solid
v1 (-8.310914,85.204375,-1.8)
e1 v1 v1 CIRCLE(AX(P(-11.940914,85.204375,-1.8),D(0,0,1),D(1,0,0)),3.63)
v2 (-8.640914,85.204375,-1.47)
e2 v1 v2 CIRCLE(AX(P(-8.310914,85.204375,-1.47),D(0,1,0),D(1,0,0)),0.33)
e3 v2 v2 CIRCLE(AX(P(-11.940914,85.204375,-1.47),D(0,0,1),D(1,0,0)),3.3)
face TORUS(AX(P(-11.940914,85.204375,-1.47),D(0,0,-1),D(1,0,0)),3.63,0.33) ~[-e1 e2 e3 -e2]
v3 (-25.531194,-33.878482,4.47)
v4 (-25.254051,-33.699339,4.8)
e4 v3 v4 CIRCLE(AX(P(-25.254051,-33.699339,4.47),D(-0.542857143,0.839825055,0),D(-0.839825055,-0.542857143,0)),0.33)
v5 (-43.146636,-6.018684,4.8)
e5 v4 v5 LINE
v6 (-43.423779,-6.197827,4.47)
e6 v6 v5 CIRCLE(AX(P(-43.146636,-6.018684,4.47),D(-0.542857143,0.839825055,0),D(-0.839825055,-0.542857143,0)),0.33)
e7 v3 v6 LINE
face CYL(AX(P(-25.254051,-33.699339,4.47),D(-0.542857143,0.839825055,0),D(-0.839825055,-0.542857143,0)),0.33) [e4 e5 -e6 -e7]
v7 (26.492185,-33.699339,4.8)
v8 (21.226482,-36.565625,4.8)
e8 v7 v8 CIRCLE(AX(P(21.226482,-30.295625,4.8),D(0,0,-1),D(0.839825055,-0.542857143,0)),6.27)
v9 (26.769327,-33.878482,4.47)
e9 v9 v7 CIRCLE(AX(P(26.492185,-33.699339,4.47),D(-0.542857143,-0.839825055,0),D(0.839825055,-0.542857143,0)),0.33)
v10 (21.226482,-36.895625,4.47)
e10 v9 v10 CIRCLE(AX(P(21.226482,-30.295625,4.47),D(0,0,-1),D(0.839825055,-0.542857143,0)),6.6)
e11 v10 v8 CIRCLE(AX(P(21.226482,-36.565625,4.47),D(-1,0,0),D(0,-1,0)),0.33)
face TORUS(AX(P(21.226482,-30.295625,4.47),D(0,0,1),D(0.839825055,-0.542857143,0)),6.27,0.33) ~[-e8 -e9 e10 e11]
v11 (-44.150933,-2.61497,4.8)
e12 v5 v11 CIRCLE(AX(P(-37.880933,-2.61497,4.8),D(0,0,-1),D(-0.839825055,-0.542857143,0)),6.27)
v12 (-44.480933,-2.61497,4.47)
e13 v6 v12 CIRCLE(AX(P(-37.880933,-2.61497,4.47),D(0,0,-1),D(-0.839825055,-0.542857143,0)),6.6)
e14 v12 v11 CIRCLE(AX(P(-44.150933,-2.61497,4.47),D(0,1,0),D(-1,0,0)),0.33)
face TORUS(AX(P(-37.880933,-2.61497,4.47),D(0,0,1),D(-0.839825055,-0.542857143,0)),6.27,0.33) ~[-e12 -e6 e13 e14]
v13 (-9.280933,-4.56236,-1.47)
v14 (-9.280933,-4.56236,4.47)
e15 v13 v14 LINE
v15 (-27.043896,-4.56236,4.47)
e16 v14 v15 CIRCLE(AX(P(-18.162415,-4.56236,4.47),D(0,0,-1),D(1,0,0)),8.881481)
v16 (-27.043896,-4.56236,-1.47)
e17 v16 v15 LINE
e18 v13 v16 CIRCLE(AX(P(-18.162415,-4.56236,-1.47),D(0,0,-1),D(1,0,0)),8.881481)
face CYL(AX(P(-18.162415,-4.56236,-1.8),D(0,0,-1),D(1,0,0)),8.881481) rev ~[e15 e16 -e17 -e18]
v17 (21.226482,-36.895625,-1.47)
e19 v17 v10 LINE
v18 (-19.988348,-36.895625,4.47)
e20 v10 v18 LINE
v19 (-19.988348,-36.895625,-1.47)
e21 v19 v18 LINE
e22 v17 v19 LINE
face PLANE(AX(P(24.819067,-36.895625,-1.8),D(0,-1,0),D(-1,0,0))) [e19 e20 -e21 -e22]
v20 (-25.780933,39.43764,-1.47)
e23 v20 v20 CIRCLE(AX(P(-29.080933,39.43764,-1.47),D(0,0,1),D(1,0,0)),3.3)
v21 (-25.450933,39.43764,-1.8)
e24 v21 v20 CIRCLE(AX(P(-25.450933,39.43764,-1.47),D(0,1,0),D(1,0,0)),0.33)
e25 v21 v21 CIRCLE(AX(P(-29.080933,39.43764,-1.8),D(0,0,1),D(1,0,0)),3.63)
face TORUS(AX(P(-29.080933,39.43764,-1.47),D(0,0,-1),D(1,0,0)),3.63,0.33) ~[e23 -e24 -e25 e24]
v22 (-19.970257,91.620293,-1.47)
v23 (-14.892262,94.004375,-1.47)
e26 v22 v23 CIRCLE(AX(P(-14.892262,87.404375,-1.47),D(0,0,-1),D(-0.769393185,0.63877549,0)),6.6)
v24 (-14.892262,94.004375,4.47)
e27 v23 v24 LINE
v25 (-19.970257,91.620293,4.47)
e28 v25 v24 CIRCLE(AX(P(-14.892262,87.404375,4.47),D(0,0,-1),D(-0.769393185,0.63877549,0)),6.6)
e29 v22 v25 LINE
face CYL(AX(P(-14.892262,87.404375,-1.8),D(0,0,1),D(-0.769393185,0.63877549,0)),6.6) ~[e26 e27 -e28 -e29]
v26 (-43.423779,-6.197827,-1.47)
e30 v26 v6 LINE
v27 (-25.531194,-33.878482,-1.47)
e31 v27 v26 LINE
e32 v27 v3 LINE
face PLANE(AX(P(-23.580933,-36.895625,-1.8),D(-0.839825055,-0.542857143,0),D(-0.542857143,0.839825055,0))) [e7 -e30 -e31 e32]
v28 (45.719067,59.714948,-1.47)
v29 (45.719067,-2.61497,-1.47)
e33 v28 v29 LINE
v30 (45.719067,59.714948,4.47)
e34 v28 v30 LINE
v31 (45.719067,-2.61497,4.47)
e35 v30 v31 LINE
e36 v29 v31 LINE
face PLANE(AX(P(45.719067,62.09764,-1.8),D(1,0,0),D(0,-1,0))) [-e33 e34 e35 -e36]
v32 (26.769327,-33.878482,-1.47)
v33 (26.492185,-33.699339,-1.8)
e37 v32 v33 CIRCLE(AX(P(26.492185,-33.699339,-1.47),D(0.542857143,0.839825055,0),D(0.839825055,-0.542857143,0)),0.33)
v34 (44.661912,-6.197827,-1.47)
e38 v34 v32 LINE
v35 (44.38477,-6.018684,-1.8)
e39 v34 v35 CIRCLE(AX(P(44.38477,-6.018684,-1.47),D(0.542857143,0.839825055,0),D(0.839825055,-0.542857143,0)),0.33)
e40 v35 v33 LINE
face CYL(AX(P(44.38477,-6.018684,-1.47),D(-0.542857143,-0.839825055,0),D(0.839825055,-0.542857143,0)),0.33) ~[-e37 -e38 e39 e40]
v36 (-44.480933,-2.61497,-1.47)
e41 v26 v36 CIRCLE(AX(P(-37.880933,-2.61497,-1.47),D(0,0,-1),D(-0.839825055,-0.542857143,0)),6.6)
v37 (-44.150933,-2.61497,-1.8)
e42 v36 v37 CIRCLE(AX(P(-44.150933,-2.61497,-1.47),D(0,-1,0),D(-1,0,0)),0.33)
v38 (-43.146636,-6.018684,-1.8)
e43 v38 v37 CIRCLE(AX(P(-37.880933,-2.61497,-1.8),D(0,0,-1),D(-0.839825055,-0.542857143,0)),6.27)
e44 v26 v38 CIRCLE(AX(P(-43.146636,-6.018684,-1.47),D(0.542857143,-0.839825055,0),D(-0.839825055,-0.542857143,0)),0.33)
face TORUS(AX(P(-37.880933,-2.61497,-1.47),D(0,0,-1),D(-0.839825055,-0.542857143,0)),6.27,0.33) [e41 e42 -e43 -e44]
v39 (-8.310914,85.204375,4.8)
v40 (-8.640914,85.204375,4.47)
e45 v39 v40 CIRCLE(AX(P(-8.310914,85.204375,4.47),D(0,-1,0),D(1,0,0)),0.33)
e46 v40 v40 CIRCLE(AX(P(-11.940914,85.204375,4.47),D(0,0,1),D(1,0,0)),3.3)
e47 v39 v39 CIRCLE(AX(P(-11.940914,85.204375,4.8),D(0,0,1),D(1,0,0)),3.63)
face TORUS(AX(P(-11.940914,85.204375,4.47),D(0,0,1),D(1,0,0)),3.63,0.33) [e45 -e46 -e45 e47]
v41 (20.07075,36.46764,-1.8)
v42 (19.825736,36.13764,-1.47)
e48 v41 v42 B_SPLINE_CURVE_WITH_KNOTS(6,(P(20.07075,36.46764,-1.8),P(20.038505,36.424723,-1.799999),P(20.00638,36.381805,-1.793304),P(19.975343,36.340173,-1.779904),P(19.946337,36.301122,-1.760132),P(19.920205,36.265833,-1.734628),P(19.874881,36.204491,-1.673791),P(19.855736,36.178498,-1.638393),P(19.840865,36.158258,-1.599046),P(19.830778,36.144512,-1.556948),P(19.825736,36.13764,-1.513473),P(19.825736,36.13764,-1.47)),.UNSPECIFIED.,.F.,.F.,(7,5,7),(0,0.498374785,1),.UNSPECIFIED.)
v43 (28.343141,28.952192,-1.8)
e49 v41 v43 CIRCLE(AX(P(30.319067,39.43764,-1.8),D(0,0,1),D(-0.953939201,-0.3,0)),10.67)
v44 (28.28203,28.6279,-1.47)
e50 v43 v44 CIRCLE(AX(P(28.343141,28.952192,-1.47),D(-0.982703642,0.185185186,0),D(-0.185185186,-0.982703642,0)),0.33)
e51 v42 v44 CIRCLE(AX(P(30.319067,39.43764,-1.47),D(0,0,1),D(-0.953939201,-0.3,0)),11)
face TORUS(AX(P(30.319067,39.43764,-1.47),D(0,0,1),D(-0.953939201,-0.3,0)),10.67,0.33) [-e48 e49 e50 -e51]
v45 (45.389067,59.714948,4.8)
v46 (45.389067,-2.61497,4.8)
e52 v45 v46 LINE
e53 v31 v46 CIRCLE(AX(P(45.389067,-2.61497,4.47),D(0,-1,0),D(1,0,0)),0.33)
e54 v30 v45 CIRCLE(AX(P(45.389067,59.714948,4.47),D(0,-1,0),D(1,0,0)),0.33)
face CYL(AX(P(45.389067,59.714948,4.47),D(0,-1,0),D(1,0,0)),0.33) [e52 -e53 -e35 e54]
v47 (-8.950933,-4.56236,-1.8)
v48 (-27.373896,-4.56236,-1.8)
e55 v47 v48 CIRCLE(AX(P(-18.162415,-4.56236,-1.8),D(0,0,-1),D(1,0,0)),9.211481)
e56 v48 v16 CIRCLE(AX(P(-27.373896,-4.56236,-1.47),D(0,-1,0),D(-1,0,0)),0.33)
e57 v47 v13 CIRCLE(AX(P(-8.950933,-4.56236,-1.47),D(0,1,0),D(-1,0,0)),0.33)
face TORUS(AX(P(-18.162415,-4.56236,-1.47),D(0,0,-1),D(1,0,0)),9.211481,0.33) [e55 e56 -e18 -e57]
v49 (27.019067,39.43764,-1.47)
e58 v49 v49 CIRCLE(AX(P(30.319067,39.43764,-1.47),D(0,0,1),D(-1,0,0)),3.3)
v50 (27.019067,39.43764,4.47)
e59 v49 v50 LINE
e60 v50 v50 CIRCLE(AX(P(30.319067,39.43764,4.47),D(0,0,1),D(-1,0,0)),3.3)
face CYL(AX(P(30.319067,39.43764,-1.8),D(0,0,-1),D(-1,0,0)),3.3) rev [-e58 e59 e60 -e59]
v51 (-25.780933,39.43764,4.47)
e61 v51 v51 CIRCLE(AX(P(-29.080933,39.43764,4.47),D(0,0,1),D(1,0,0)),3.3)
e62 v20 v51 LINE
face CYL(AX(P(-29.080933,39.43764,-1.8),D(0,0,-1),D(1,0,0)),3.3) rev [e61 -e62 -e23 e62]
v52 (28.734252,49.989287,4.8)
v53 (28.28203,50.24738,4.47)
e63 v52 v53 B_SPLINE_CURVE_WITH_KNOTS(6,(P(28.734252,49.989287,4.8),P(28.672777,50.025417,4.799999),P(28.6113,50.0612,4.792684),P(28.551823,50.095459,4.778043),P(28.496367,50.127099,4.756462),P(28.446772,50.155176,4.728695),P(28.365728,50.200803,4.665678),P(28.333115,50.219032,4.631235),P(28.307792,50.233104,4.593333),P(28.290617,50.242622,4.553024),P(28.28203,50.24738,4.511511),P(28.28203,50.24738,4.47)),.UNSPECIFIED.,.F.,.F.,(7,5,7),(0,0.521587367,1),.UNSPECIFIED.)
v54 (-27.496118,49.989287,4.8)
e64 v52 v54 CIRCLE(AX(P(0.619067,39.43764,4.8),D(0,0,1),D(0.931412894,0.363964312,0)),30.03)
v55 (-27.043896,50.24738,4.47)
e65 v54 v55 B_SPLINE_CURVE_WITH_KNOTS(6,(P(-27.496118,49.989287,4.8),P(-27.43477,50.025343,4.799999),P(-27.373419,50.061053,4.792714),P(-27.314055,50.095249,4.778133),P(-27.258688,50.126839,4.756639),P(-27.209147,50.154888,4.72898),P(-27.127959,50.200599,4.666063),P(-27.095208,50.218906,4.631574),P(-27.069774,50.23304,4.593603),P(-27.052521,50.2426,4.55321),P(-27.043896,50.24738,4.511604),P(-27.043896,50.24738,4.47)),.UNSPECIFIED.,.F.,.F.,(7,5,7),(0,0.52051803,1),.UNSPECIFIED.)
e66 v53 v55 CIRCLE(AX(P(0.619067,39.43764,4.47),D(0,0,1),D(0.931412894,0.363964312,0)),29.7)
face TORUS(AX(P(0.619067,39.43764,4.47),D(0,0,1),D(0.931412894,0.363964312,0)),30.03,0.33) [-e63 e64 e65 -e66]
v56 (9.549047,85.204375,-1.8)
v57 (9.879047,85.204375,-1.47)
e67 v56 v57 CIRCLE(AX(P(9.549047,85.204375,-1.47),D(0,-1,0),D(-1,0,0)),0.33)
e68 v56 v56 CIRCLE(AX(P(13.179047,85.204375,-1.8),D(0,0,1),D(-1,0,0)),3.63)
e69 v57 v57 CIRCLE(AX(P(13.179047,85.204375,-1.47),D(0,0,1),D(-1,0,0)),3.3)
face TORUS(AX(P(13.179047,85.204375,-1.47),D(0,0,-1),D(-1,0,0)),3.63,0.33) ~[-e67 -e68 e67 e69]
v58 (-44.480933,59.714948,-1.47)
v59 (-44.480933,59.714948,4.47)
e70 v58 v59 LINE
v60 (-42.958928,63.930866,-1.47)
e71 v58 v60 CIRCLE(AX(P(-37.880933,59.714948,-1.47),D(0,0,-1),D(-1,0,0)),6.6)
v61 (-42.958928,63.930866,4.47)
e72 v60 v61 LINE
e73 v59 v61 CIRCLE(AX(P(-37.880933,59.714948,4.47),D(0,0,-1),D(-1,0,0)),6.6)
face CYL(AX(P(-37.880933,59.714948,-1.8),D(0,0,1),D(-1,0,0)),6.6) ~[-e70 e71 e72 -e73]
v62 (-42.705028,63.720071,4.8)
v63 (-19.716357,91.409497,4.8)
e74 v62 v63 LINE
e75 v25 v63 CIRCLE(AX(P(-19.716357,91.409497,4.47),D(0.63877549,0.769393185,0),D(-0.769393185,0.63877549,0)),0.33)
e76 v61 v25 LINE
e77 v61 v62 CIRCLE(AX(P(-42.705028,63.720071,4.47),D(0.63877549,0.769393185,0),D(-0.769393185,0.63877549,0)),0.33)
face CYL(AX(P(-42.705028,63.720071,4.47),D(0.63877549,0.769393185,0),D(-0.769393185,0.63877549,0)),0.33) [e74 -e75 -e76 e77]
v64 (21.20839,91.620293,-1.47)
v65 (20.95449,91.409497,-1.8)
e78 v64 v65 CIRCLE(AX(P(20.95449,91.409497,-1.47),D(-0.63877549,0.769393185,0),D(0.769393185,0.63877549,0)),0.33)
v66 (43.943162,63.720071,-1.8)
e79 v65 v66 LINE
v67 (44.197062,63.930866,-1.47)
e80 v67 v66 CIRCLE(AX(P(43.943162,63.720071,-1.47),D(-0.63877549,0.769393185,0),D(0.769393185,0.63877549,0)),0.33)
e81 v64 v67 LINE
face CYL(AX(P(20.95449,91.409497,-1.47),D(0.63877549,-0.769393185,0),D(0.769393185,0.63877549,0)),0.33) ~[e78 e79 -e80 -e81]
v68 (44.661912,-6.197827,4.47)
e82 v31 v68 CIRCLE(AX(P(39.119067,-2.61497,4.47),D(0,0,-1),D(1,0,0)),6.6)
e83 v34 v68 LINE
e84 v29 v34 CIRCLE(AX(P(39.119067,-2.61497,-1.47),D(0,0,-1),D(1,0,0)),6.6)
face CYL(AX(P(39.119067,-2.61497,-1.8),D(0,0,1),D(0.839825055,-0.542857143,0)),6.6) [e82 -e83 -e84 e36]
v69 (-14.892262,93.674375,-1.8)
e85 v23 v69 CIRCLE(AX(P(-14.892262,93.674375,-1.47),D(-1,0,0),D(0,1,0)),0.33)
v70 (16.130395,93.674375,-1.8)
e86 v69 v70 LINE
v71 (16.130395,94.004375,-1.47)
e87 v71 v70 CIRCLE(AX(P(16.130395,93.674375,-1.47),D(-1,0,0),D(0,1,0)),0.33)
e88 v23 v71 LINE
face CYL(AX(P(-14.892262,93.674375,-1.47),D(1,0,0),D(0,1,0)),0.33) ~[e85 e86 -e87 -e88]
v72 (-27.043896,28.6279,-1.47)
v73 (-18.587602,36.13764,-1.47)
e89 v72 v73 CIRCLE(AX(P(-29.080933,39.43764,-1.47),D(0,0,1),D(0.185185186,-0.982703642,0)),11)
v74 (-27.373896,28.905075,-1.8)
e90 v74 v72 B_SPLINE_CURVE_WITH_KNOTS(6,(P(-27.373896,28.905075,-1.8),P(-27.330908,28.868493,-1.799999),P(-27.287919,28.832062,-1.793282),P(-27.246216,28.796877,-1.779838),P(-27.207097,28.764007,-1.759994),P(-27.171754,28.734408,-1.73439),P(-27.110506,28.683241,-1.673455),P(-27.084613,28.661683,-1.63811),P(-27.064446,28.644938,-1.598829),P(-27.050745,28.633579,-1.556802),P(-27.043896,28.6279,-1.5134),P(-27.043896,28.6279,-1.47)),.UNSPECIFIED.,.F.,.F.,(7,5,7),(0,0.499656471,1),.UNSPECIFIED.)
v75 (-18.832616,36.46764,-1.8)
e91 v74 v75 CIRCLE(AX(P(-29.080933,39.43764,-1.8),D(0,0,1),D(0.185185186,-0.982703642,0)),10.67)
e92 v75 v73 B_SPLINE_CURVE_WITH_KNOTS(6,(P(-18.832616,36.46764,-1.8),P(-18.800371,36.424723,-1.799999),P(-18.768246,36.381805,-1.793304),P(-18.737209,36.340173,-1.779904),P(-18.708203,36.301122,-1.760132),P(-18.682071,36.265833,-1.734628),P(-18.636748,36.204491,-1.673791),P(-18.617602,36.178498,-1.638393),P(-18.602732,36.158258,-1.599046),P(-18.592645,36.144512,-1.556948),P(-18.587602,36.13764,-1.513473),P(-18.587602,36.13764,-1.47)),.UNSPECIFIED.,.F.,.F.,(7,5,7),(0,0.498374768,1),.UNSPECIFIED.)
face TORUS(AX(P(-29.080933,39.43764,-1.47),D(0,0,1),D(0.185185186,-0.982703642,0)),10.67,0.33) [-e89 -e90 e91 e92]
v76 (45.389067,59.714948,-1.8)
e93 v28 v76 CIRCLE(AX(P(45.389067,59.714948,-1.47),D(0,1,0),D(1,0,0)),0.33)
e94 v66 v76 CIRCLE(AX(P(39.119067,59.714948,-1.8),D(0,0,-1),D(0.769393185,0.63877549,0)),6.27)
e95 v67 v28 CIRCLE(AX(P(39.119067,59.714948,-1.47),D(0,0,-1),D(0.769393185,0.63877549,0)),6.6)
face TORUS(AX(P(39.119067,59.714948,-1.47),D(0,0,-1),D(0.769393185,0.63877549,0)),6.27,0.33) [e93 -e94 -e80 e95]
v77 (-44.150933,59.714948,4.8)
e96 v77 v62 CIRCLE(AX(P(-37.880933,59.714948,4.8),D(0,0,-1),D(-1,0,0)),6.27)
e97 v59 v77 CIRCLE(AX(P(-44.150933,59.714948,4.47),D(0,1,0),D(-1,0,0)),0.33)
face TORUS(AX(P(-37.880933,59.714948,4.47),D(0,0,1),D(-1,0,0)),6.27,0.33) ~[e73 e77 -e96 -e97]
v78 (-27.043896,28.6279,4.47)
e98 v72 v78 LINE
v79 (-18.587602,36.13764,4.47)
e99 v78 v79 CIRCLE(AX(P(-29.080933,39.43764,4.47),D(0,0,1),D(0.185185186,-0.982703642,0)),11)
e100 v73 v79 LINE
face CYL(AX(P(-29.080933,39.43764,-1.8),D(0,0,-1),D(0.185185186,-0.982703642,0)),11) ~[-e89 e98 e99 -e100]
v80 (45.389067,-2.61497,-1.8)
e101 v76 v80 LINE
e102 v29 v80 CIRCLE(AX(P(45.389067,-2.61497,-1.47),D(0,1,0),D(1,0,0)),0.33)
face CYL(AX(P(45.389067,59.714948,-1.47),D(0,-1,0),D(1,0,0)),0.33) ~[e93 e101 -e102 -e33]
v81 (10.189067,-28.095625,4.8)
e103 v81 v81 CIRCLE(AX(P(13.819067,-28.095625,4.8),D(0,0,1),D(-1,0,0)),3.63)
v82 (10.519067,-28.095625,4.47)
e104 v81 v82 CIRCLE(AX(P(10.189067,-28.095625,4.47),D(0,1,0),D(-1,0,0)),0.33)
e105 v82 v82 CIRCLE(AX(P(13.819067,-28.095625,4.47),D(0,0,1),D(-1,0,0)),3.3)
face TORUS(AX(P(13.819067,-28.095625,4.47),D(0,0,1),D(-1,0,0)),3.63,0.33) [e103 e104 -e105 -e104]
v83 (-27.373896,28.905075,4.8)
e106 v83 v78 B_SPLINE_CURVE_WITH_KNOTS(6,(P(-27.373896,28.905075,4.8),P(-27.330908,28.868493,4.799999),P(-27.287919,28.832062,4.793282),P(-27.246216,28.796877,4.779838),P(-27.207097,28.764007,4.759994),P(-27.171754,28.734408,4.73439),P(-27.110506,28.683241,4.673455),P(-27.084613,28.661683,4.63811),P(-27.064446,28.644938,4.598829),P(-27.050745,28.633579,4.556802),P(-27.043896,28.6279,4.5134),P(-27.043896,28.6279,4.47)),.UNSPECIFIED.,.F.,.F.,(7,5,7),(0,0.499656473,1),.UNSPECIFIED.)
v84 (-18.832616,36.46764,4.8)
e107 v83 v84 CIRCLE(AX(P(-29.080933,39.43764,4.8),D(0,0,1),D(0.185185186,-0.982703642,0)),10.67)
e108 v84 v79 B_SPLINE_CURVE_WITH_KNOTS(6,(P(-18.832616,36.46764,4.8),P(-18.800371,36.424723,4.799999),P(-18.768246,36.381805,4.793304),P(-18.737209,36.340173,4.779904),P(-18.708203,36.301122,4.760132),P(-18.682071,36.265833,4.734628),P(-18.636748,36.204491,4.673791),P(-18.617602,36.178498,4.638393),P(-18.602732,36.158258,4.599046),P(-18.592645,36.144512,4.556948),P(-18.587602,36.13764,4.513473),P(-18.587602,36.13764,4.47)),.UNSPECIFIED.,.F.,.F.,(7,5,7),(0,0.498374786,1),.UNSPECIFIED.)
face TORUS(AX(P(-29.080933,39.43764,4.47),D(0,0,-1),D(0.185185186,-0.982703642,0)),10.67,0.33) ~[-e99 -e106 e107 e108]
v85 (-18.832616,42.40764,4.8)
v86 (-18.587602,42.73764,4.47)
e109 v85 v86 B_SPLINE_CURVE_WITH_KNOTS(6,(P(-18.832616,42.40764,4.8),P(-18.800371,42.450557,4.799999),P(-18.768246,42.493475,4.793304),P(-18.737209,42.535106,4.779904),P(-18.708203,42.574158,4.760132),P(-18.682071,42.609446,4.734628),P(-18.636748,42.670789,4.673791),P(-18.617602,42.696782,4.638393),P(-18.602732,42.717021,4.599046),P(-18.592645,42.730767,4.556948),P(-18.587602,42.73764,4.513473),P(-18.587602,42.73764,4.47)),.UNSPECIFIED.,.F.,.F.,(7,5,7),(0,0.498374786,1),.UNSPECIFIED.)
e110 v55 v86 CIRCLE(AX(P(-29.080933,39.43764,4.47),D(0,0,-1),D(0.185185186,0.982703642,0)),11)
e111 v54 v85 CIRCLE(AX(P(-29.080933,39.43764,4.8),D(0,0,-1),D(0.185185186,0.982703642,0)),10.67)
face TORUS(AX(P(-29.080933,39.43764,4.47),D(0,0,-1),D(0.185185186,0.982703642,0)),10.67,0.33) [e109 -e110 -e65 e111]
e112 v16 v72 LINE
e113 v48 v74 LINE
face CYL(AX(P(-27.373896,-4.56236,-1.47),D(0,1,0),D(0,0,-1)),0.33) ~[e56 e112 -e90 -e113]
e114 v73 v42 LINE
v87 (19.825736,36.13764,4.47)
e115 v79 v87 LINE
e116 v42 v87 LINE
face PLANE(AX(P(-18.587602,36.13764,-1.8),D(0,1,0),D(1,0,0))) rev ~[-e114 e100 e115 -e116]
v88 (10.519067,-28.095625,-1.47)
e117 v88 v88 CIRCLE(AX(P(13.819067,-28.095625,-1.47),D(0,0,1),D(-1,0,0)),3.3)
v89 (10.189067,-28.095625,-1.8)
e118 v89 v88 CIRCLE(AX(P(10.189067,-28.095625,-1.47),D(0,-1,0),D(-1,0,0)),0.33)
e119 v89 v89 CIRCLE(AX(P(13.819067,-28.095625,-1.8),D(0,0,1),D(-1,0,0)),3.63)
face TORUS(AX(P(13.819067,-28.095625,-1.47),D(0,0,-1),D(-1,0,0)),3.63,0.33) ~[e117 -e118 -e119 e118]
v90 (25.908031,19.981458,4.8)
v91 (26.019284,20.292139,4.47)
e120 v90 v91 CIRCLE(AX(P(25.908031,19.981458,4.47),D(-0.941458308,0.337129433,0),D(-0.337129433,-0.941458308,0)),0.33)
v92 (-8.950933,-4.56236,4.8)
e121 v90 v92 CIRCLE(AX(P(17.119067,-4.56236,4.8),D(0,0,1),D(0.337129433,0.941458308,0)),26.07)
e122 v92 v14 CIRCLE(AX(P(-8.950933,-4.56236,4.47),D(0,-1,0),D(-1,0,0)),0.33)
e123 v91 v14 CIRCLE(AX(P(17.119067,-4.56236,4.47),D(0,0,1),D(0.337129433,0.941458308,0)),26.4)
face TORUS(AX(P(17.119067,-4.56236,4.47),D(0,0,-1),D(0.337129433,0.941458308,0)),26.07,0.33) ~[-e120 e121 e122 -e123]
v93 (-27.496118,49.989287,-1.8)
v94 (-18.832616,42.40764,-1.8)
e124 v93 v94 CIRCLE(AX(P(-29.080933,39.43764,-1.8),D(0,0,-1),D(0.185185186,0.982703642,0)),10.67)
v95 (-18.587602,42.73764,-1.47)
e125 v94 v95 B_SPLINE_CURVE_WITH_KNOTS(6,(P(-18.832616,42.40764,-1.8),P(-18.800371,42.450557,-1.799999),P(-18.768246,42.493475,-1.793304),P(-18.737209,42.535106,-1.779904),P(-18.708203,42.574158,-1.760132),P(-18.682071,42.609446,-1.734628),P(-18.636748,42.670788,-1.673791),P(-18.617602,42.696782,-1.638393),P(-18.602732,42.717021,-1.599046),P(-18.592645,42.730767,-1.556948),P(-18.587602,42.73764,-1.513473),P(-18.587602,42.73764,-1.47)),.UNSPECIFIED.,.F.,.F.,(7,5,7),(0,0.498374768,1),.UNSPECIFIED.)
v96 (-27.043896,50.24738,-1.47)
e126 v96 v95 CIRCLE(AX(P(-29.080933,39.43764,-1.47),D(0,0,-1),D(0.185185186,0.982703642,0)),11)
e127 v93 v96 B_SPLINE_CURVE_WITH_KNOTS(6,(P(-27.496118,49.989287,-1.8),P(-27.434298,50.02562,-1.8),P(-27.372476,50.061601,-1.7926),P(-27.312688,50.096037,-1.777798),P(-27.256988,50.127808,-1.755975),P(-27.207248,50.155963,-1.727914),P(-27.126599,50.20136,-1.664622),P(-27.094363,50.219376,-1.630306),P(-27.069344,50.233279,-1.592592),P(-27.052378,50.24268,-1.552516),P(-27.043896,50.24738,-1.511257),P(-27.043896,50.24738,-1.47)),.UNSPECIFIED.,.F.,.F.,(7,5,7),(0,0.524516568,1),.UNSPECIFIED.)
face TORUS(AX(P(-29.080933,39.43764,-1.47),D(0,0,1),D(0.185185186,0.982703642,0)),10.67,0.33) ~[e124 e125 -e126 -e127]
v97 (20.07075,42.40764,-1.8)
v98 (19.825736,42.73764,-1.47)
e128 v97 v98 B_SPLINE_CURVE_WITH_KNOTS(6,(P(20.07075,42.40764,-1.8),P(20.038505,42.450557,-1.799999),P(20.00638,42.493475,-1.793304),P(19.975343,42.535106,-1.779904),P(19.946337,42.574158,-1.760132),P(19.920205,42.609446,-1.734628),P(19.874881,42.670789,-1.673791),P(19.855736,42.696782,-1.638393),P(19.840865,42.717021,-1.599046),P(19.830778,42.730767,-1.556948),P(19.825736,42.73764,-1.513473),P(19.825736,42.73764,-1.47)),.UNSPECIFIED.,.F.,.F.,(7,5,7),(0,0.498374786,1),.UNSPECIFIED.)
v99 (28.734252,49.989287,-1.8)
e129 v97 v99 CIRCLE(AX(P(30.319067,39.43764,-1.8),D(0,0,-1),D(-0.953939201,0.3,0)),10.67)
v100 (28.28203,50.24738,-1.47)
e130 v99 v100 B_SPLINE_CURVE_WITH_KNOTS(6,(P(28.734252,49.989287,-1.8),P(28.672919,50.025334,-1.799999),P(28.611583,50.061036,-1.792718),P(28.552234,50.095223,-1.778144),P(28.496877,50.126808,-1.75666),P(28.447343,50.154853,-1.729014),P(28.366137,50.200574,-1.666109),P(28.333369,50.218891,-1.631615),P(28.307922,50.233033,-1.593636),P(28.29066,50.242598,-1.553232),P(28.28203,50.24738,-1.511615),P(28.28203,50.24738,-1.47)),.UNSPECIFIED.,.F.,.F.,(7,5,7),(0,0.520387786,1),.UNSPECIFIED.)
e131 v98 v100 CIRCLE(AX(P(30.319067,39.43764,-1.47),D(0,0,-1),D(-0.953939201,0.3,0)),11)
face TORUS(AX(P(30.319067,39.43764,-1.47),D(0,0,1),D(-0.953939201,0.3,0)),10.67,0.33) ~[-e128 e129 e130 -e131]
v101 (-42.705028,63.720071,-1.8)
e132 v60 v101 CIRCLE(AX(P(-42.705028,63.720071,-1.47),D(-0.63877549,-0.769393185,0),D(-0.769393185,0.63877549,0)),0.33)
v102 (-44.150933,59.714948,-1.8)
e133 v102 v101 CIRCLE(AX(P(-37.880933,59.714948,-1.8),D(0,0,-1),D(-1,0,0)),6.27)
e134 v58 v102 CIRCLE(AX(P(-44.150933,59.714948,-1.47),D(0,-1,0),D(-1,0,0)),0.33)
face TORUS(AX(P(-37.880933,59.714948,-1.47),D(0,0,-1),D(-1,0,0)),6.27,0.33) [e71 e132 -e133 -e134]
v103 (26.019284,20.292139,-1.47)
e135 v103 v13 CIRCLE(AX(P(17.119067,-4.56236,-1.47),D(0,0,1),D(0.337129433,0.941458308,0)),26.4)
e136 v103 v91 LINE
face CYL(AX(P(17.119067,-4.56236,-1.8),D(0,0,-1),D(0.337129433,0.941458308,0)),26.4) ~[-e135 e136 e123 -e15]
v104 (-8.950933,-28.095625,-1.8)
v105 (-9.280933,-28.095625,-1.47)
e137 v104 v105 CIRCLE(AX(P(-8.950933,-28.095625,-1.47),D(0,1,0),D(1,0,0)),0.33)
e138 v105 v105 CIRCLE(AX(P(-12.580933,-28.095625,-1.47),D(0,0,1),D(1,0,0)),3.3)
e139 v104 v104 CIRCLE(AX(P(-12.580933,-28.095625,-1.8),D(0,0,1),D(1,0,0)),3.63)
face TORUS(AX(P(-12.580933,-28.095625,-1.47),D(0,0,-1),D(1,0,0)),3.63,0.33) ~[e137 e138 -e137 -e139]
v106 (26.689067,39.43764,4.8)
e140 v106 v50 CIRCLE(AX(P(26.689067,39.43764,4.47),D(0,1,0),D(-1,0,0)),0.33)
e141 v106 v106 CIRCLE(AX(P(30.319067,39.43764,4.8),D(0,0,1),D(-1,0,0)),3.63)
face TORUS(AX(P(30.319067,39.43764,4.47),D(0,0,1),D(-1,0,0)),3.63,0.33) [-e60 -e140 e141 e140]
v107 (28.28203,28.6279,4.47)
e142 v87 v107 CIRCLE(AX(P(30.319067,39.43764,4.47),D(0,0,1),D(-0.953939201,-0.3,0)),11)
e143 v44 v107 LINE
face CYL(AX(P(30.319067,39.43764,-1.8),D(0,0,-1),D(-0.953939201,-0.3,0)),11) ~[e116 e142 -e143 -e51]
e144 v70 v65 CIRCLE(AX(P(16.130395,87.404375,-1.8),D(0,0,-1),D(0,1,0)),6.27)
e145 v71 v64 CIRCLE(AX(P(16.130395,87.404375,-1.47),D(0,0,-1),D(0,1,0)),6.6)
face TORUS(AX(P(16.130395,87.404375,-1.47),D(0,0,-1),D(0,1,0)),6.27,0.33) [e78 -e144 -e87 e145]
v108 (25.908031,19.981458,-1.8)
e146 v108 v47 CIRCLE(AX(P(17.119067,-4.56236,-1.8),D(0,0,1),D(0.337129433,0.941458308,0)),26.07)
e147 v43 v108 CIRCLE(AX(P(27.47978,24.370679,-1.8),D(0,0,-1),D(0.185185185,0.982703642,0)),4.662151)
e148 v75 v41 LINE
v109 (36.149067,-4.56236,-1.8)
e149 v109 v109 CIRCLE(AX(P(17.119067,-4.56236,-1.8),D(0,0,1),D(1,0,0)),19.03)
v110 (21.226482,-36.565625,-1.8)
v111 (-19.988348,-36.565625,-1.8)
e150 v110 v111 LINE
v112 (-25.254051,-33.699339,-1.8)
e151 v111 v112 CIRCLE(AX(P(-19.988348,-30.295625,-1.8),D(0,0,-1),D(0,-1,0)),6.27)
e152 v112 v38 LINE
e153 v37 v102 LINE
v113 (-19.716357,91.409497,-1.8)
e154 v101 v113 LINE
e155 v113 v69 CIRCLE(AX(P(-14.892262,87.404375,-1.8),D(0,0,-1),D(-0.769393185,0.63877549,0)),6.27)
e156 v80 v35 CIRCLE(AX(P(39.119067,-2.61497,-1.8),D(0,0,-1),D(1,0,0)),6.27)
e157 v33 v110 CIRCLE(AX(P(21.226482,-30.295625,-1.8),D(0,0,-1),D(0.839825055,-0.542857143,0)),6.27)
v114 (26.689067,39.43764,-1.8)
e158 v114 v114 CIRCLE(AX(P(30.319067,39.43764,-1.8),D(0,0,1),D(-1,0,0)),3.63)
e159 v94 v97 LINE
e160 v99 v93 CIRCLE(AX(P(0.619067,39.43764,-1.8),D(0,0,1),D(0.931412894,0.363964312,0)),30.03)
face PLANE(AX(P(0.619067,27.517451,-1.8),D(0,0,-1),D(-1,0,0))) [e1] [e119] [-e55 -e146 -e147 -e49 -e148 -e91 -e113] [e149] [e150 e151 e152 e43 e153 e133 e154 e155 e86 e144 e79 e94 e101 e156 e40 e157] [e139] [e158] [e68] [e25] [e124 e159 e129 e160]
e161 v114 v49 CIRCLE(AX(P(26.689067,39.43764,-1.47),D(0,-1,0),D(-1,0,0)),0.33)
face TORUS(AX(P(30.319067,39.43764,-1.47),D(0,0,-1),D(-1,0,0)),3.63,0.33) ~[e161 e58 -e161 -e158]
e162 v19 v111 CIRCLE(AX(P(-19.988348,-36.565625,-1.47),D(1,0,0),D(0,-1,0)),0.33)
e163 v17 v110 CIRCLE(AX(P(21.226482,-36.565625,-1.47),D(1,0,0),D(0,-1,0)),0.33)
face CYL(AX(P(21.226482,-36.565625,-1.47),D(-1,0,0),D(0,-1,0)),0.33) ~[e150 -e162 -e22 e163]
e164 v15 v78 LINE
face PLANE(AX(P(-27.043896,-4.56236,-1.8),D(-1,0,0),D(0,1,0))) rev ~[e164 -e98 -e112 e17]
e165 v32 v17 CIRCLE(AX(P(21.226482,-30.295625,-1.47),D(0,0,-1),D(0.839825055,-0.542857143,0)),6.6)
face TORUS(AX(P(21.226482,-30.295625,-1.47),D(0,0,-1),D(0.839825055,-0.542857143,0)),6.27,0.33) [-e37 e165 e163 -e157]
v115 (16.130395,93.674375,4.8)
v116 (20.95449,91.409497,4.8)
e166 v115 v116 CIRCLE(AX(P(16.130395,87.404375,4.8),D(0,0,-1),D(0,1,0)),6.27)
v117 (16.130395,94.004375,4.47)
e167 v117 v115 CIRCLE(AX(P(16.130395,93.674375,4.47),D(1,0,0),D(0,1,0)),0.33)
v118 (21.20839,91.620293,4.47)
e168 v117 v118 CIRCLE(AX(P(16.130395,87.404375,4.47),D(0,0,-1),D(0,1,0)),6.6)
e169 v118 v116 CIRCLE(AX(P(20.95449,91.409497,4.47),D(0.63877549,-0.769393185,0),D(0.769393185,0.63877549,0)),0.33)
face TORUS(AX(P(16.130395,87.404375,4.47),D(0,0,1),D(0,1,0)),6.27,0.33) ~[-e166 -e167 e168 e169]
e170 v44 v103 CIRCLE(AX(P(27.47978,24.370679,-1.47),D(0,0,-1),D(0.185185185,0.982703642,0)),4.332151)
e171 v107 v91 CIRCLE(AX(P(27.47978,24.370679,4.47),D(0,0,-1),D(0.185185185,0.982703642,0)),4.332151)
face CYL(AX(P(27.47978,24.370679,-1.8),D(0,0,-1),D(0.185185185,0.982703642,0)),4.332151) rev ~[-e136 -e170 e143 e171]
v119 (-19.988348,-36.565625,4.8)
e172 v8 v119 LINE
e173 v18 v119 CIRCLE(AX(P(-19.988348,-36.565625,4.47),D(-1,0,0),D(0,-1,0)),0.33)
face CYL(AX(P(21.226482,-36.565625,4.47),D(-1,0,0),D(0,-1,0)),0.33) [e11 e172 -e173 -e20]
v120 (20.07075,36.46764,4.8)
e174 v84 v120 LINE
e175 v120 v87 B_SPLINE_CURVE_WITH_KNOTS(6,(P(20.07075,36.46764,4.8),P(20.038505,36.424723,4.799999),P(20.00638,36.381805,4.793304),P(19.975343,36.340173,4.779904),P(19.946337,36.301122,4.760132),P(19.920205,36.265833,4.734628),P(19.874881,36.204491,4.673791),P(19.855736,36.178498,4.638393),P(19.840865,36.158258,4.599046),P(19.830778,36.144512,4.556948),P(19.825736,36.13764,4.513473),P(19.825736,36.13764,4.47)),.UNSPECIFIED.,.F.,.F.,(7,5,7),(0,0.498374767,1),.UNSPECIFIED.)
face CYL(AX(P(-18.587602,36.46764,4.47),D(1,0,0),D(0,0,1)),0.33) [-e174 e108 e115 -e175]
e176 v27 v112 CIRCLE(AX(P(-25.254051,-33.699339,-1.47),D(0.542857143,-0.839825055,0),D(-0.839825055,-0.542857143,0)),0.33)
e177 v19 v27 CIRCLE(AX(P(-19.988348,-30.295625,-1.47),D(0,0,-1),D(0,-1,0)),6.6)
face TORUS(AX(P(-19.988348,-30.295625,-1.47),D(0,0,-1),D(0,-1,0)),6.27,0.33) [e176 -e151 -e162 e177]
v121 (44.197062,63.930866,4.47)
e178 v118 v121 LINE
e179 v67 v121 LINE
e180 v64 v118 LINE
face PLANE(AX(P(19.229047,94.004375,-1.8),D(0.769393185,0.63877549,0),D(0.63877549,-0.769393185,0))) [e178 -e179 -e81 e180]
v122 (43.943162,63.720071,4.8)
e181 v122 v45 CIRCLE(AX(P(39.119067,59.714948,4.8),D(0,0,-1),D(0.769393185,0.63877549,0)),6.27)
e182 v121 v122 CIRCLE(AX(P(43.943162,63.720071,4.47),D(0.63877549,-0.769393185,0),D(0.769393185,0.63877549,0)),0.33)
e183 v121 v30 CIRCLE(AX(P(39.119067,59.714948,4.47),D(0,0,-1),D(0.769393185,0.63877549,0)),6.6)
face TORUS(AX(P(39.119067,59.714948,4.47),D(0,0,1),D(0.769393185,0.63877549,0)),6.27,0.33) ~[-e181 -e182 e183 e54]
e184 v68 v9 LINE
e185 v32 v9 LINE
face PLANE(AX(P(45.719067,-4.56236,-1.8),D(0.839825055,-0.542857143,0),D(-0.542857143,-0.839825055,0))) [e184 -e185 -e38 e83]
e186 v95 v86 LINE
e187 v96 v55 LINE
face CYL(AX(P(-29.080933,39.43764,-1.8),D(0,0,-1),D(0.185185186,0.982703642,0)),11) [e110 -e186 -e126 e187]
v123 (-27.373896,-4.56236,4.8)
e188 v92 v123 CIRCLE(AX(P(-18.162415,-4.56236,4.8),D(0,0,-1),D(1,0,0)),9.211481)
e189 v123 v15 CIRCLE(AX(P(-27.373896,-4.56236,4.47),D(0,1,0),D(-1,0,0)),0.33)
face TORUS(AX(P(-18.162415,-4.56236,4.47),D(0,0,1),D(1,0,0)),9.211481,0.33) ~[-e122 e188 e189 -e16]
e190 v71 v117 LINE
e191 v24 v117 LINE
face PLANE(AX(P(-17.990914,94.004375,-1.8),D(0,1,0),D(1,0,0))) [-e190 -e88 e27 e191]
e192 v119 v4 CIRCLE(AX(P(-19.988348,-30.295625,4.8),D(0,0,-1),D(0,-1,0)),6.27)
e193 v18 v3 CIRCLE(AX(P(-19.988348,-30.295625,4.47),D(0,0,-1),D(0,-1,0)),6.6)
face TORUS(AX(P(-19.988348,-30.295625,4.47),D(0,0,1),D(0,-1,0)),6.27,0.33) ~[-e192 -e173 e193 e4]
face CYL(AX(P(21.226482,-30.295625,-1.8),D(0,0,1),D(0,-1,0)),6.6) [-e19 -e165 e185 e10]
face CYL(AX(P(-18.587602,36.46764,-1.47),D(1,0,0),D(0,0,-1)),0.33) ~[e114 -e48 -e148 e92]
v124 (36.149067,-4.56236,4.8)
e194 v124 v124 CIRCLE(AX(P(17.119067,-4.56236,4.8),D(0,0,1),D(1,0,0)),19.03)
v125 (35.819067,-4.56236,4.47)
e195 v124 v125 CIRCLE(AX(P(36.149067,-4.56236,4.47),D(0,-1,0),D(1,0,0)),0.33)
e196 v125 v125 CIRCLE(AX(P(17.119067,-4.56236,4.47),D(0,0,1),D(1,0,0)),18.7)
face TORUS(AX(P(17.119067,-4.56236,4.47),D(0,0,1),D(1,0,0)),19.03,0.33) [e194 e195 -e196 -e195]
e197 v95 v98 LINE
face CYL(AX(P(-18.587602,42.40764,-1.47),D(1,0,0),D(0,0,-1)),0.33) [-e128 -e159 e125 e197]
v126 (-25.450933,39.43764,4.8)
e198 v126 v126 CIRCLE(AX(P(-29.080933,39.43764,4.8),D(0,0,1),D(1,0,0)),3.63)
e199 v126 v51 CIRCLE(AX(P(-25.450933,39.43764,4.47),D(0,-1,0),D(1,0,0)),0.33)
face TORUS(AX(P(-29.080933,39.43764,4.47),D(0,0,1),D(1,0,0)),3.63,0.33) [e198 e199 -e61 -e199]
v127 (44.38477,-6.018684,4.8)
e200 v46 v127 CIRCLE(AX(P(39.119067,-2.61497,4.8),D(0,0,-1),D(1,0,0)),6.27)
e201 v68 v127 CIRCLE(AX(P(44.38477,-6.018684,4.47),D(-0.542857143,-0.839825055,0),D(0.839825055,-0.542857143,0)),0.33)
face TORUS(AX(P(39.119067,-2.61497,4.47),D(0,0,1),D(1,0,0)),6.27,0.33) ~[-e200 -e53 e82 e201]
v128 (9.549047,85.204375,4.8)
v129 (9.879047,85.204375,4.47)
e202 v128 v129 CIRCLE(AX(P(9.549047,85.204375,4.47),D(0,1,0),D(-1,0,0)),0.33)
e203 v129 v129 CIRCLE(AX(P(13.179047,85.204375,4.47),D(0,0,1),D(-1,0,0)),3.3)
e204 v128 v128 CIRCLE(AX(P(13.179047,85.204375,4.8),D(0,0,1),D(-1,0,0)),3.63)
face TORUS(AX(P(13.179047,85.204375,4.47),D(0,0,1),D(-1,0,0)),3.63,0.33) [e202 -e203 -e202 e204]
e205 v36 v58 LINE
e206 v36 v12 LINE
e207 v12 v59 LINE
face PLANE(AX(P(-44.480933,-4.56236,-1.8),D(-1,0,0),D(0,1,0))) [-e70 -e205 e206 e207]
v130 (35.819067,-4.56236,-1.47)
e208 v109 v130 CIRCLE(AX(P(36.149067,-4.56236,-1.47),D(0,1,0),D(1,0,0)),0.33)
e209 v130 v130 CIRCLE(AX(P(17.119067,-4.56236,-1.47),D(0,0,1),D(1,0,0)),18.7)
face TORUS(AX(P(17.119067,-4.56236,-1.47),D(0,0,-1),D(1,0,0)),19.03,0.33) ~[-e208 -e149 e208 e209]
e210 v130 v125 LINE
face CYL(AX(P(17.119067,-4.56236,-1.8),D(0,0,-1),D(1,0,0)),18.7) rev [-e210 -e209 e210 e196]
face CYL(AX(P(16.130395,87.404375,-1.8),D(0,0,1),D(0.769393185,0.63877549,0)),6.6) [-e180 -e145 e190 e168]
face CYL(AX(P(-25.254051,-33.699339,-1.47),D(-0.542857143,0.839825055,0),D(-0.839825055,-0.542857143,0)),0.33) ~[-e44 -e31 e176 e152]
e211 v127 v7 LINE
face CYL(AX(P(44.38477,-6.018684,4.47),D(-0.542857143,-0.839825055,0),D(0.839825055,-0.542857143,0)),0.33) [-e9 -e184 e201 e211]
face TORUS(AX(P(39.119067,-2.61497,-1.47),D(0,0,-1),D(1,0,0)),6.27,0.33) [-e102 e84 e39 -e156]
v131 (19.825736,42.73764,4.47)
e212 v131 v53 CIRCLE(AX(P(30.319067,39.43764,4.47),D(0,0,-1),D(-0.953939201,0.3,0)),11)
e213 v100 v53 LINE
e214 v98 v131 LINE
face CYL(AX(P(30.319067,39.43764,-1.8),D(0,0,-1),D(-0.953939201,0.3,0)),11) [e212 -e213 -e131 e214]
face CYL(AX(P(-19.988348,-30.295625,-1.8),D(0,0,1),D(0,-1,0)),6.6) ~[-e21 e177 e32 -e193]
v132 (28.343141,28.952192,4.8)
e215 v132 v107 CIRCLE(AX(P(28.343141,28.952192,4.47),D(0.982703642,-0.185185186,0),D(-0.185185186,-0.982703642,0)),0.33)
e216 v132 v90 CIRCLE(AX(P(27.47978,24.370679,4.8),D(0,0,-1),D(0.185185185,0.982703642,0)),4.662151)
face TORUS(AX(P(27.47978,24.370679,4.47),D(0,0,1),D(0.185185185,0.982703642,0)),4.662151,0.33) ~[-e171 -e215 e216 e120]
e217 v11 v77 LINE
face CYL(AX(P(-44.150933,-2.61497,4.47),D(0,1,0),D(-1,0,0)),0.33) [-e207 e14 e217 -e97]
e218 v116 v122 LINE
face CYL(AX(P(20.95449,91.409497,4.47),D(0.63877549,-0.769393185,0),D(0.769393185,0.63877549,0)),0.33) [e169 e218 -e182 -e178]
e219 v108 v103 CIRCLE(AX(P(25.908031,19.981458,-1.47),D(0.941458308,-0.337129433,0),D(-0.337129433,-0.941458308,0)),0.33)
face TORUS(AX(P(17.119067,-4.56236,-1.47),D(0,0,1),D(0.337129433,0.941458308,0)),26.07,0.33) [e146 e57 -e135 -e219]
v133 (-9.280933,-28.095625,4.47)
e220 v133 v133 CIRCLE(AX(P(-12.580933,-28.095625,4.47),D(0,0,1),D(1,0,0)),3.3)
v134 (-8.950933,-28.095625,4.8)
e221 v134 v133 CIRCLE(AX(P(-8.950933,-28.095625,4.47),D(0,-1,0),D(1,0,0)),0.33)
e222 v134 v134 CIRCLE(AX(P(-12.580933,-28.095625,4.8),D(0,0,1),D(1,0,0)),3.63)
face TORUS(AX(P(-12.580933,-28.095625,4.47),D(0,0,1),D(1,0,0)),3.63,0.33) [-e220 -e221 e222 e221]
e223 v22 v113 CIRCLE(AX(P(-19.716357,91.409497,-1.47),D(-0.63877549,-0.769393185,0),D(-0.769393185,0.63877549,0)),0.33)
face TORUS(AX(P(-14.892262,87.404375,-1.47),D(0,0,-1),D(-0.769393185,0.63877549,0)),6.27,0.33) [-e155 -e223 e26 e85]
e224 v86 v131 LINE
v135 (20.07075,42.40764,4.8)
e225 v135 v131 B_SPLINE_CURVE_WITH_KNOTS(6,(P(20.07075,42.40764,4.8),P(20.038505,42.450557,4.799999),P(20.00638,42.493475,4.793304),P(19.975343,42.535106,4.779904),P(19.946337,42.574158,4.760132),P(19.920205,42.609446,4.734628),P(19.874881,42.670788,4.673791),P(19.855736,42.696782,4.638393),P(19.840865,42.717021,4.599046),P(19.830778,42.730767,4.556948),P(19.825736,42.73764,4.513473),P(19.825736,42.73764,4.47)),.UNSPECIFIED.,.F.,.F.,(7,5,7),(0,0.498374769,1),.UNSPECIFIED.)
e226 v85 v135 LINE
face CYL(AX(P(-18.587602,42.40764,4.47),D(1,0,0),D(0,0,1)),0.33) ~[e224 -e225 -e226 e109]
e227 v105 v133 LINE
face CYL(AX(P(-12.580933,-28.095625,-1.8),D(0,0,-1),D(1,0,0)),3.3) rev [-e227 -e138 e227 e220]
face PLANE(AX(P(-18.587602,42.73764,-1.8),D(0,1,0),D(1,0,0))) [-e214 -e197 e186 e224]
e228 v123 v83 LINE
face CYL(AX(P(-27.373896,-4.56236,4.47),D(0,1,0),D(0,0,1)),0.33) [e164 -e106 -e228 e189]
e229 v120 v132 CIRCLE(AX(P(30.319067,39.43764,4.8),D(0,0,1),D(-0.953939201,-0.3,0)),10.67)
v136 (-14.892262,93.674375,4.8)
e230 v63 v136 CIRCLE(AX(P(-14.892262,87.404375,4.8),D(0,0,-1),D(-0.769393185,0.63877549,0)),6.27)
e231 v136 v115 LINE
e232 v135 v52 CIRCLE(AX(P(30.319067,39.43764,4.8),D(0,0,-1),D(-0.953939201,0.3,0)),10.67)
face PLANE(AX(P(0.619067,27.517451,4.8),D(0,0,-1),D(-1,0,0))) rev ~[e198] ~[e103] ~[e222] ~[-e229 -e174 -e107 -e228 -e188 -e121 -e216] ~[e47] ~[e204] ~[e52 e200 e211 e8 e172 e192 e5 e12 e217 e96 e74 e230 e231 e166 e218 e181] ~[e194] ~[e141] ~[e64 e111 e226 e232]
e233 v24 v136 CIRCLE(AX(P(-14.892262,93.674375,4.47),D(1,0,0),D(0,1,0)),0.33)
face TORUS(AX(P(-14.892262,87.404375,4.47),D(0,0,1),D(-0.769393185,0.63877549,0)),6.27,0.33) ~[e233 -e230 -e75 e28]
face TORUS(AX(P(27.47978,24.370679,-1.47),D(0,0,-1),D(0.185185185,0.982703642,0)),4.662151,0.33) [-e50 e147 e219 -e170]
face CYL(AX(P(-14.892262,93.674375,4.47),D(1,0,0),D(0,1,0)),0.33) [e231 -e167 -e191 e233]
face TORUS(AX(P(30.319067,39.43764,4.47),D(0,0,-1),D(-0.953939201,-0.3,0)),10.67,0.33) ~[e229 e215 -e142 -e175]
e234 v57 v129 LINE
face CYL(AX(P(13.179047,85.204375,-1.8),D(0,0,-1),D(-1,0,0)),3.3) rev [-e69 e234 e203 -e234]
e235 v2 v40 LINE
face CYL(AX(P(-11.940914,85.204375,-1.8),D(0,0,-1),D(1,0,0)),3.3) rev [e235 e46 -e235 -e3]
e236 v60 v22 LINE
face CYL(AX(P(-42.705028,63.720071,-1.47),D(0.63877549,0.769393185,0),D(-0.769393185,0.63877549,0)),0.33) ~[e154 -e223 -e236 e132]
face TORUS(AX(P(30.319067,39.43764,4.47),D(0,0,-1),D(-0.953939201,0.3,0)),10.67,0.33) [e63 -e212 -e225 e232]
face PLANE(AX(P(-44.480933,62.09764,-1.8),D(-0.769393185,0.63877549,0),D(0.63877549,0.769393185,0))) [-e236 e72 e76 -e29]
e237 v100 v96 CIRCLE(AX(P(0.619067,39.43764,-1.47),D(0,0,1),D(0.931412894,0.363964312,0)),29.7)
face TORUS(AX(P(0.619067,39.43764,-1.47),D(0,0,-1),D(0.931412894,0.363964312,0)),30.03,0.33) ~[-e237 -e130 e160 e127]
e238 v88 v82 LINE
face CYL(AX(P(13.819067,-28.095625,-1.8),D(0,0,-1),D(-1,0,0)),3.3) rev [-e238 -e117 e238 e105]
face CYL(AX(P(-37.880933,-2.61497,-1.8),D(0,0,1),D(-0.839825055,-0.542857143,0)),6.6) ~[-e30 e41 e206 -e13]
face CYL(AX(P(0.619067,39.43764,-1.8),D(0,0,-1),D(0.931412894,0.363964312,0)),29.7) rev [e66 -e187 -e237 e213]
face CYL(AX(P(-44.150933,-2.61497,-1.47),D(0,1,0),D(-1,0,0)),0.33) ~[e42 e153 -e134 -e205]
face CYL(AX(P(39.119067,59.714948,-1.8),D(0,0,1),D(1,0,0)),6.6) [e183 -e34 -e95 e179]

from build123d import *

# Parameters (mm, degrees)
SKETCH_1_R      = 1.5
SKETCH_1_R_2    = 8.5
EXTRUDE_1_DEPTH = 3
FILLET_1_R      = 3
FILLET_2_R      = 0.15
SCALE_1_SCALE   = 2.2


with BuildPart() as part:
    # Эскиз1 → Бобышка-Вытянуть1 (new body)
    with BuildSketch(Plane.XY):
        Polygon((11, 0), (-11, 0), (-20.5, 14.696938457), (-20.5, 44.996938457), (-8.459082017, 59.5), (8.459082017, 59.5), (20.5, 44.996938457), (20.5, 14.696938457), align=None)
        with Locations((-5.709082017, 55.5)):
            Circle(SKETCH_1_R, mode=Mode.SUBTRACT)
        with Locations((-13.5, 34.696938457)):
            Circle(SKETCH_1_R, mode=Mode.SUBTRACT)
        with Locations((-6, 4)):
            Circle(SKETCH_1_R, mode=Mode.SUBTRACT)
        with Locations(Location((6, 4, 0), (0, 0, 180))):
            Circle(SKETCH_1_R, mode=Mode.SUBTRACT)
        with Locations(Location((13.5, 34.696938457, 0), (0, 0, 180))):
            Circle(SKETCH_1_R, mode=Mode.SUBTRACT)
        with Locations(Location((5.709082017, 55.5, 0), (0, 0, 180))):
            Circle(SKETCH_1_R, mode=Mode.SUBTRACT)
        with Locations((7.5, 14.696938457)):
            Circle(SKETCH_1_R_2, mode=Mode.SUBTRACT)
        with BuildLine():
            Line((-8.730303993, 36.196938457), (8.730303993, 36.196938457))
            ThreePointArc((8.730303993, 36.196938457), (10.179901517, 38.435513862), (12.574074074, 39.610456665))
            ThreePointArc((12.574074074, 39.610456665), (0, 48.196938457), (-12.574074074, 39.610456665))
            ThreePointArc((-12.574074074, 39.610456665), (-10.179901517, 38.435513862), (-8.730303993, 36.196938457))
        make_face(mode=Mode.SUBTRACT)
        with BuildLine():
            Line((-8.730303993, 33.196938457), (8.730303993, 33.196938457))
            ThreePointArc((8.730303993, 33.196938457), (10.179901517, 30.958363052), (12.574074074, 29.783420249))
            ThreePointArc((12.574074074, 29.783420249), (14.109803486, 27.332458542), (11.545553196, 25.994438151))
            ThreePointArc((11.545553196, 25.994438151), (0.591550042, 24.508835275), (-4.5, 14.696938457))
            ThreePointArc((-4.5, 14.696938457), (-8.537037037, 10.65990142), (-12.574074074, 14.696938457))
            Line((-12.574074074, 14.696938457), (-12.574074074, 29.783420249))
            ThreePointArc((-12.574074074, 29.783420249), (-10.179901517, 30.958363052), (-8.730303993, 33.196938457))
        make_face(mode=Mode.SUBTRACT)
    extrude(amount=EXTRUDE_1_DEPTH)

    # Скругление1
    fillet_1_edges = [part.edges().sort_by_distance(p)[0] for p in [
        (-20.5, 14.696938457, 1.5),
        (-20.5, 44.996938457, 1.5),
        (-8.459082017, 59.5, 1.5),
        (8.459082017, 59.5, 1.5),
        (20.5, 44.996938457, 1.5),
        (20.5, 14.696938457, 1.5),
        (11, 0, 1.5),
        (-11, 0, 1.5),
    ]]
    fillet(fillet_1_edges, radius=FILLET_1_R)

    # Скругление2
    fillet_2_edges = [part.edges().sort_by_distance(p)[0] for p in [
        (0, 0, 0),
        (0, 0, 3),
        (10.801281169, 0.365069803, 0),
        (-10.801281169, 0.365069803, 0),
        (15.952978583, 7.662486465, 0),
        (-15.952978583, 7.662486465, 0),
        (20.377362116, 14.733123882, 0),
        (-20.377362116, 14.733123882, 0),
        (20.5, 29.748006309, 0),
        (-20.5, 29.748006309, 0),
        (20.321749339, 44.932587495, 0),
        (-20.321749339, 44.932587495, 0),
        (14.583481463, 52.123274886, 0),
        (-14.583481463, 52.123274886, 0),
        (8.325558832, 59.215601168, 0),
        (-8.325558832, 59.215601168, 0),
        (0, 59.5, 0),
        (-7.209082017, 55.5, 0),
        (-15, 34.696938457, 0),
        (-7.5, 4, 0),
        (7.5, 4, 0),
        (15, 34.696938457, 0),
        (7.209082017, 55.5, 0),
        (-1, 14.696938457, 0),
        (0, 48.196938457, 0),
        (-10.179901517, 38.435513862, 0),
        (0, 36.196938457, 0),
        (10.179901517, 38.435513862, 0),
        (0.591550042, 24.508835275, 0),
        (14.109803486, 27.332458542, 0),
        (10.179901517, 30.958363052, 0),
        (0, 33.196938457, 0),
        (-10.179901517, 30.958363052, 0),
        (-12.574074074, 22.240179353, 0),
        (-8.537037037, 10.65990142, 0),
        (10.801281169, 0.365069803, 3),
        (-10.801281169, 0.365069803, 3),
        (15.952978583, 7.662486465, 3),
        (-15.952978583, 7.662486465, 3),
        (20.377362116, 14.733123882, 3),
        (-20.377362116, 14.733123882, 3),
        (20.5, 29.748006309, 3),
        (-20.5, 29.748006309, 3),
        (20.321749339, 44.932587495, 3),
        (-20.321749339, 44.932587495, 3),
        (14.583481463, 52.123274886, 3),
        (-14.583481463, 52.123274886, 3),
        (8.325558832, 59.215601168, 3),
        (-8.325558832, 59.215601168, 3),
        (0, 59.5, 3),
        (-7.209082017, 55.5, 3),
        (-15, 34.696938457, 3),
        (-7.5, 4, 3),
        (7.5, 4, 3),
        (15, 34.696938457, 3),
        (7.209082017, 55.5, 3),
        (-1, 14.696938457, 3),
        (0, 48.196938457, 3),
        (-10.179901517, 38.435513862, 3),
        (0, 36.196938457, 3),
        (10.179901517, 38.435513862, 3),
        (0.591550042, 24.508835275, 3),
        (14.109803486, 27.332458542, 3),
        (10.179901517, 30.958363052, 3),
        (0, 33.196938457, 3),
        (-10.179901517, 30.958363052, 3),
        (-12.574074074, 22.240179353, 3),
        (-8.537037037, 10.65990142, 3),
    ]]
    fillet(fillet_2_edges, radius=FILLET_2_R)


with BuildPart() as part_1:
    # Масштаб1: scaled about (-0.515889001, 30.746354029, 1.5)
    add(part.part.scale(SCALE_1_SCALE).moved(Location((0.619066801, -36.895624835, -1.8))))


solid = part_1.part
